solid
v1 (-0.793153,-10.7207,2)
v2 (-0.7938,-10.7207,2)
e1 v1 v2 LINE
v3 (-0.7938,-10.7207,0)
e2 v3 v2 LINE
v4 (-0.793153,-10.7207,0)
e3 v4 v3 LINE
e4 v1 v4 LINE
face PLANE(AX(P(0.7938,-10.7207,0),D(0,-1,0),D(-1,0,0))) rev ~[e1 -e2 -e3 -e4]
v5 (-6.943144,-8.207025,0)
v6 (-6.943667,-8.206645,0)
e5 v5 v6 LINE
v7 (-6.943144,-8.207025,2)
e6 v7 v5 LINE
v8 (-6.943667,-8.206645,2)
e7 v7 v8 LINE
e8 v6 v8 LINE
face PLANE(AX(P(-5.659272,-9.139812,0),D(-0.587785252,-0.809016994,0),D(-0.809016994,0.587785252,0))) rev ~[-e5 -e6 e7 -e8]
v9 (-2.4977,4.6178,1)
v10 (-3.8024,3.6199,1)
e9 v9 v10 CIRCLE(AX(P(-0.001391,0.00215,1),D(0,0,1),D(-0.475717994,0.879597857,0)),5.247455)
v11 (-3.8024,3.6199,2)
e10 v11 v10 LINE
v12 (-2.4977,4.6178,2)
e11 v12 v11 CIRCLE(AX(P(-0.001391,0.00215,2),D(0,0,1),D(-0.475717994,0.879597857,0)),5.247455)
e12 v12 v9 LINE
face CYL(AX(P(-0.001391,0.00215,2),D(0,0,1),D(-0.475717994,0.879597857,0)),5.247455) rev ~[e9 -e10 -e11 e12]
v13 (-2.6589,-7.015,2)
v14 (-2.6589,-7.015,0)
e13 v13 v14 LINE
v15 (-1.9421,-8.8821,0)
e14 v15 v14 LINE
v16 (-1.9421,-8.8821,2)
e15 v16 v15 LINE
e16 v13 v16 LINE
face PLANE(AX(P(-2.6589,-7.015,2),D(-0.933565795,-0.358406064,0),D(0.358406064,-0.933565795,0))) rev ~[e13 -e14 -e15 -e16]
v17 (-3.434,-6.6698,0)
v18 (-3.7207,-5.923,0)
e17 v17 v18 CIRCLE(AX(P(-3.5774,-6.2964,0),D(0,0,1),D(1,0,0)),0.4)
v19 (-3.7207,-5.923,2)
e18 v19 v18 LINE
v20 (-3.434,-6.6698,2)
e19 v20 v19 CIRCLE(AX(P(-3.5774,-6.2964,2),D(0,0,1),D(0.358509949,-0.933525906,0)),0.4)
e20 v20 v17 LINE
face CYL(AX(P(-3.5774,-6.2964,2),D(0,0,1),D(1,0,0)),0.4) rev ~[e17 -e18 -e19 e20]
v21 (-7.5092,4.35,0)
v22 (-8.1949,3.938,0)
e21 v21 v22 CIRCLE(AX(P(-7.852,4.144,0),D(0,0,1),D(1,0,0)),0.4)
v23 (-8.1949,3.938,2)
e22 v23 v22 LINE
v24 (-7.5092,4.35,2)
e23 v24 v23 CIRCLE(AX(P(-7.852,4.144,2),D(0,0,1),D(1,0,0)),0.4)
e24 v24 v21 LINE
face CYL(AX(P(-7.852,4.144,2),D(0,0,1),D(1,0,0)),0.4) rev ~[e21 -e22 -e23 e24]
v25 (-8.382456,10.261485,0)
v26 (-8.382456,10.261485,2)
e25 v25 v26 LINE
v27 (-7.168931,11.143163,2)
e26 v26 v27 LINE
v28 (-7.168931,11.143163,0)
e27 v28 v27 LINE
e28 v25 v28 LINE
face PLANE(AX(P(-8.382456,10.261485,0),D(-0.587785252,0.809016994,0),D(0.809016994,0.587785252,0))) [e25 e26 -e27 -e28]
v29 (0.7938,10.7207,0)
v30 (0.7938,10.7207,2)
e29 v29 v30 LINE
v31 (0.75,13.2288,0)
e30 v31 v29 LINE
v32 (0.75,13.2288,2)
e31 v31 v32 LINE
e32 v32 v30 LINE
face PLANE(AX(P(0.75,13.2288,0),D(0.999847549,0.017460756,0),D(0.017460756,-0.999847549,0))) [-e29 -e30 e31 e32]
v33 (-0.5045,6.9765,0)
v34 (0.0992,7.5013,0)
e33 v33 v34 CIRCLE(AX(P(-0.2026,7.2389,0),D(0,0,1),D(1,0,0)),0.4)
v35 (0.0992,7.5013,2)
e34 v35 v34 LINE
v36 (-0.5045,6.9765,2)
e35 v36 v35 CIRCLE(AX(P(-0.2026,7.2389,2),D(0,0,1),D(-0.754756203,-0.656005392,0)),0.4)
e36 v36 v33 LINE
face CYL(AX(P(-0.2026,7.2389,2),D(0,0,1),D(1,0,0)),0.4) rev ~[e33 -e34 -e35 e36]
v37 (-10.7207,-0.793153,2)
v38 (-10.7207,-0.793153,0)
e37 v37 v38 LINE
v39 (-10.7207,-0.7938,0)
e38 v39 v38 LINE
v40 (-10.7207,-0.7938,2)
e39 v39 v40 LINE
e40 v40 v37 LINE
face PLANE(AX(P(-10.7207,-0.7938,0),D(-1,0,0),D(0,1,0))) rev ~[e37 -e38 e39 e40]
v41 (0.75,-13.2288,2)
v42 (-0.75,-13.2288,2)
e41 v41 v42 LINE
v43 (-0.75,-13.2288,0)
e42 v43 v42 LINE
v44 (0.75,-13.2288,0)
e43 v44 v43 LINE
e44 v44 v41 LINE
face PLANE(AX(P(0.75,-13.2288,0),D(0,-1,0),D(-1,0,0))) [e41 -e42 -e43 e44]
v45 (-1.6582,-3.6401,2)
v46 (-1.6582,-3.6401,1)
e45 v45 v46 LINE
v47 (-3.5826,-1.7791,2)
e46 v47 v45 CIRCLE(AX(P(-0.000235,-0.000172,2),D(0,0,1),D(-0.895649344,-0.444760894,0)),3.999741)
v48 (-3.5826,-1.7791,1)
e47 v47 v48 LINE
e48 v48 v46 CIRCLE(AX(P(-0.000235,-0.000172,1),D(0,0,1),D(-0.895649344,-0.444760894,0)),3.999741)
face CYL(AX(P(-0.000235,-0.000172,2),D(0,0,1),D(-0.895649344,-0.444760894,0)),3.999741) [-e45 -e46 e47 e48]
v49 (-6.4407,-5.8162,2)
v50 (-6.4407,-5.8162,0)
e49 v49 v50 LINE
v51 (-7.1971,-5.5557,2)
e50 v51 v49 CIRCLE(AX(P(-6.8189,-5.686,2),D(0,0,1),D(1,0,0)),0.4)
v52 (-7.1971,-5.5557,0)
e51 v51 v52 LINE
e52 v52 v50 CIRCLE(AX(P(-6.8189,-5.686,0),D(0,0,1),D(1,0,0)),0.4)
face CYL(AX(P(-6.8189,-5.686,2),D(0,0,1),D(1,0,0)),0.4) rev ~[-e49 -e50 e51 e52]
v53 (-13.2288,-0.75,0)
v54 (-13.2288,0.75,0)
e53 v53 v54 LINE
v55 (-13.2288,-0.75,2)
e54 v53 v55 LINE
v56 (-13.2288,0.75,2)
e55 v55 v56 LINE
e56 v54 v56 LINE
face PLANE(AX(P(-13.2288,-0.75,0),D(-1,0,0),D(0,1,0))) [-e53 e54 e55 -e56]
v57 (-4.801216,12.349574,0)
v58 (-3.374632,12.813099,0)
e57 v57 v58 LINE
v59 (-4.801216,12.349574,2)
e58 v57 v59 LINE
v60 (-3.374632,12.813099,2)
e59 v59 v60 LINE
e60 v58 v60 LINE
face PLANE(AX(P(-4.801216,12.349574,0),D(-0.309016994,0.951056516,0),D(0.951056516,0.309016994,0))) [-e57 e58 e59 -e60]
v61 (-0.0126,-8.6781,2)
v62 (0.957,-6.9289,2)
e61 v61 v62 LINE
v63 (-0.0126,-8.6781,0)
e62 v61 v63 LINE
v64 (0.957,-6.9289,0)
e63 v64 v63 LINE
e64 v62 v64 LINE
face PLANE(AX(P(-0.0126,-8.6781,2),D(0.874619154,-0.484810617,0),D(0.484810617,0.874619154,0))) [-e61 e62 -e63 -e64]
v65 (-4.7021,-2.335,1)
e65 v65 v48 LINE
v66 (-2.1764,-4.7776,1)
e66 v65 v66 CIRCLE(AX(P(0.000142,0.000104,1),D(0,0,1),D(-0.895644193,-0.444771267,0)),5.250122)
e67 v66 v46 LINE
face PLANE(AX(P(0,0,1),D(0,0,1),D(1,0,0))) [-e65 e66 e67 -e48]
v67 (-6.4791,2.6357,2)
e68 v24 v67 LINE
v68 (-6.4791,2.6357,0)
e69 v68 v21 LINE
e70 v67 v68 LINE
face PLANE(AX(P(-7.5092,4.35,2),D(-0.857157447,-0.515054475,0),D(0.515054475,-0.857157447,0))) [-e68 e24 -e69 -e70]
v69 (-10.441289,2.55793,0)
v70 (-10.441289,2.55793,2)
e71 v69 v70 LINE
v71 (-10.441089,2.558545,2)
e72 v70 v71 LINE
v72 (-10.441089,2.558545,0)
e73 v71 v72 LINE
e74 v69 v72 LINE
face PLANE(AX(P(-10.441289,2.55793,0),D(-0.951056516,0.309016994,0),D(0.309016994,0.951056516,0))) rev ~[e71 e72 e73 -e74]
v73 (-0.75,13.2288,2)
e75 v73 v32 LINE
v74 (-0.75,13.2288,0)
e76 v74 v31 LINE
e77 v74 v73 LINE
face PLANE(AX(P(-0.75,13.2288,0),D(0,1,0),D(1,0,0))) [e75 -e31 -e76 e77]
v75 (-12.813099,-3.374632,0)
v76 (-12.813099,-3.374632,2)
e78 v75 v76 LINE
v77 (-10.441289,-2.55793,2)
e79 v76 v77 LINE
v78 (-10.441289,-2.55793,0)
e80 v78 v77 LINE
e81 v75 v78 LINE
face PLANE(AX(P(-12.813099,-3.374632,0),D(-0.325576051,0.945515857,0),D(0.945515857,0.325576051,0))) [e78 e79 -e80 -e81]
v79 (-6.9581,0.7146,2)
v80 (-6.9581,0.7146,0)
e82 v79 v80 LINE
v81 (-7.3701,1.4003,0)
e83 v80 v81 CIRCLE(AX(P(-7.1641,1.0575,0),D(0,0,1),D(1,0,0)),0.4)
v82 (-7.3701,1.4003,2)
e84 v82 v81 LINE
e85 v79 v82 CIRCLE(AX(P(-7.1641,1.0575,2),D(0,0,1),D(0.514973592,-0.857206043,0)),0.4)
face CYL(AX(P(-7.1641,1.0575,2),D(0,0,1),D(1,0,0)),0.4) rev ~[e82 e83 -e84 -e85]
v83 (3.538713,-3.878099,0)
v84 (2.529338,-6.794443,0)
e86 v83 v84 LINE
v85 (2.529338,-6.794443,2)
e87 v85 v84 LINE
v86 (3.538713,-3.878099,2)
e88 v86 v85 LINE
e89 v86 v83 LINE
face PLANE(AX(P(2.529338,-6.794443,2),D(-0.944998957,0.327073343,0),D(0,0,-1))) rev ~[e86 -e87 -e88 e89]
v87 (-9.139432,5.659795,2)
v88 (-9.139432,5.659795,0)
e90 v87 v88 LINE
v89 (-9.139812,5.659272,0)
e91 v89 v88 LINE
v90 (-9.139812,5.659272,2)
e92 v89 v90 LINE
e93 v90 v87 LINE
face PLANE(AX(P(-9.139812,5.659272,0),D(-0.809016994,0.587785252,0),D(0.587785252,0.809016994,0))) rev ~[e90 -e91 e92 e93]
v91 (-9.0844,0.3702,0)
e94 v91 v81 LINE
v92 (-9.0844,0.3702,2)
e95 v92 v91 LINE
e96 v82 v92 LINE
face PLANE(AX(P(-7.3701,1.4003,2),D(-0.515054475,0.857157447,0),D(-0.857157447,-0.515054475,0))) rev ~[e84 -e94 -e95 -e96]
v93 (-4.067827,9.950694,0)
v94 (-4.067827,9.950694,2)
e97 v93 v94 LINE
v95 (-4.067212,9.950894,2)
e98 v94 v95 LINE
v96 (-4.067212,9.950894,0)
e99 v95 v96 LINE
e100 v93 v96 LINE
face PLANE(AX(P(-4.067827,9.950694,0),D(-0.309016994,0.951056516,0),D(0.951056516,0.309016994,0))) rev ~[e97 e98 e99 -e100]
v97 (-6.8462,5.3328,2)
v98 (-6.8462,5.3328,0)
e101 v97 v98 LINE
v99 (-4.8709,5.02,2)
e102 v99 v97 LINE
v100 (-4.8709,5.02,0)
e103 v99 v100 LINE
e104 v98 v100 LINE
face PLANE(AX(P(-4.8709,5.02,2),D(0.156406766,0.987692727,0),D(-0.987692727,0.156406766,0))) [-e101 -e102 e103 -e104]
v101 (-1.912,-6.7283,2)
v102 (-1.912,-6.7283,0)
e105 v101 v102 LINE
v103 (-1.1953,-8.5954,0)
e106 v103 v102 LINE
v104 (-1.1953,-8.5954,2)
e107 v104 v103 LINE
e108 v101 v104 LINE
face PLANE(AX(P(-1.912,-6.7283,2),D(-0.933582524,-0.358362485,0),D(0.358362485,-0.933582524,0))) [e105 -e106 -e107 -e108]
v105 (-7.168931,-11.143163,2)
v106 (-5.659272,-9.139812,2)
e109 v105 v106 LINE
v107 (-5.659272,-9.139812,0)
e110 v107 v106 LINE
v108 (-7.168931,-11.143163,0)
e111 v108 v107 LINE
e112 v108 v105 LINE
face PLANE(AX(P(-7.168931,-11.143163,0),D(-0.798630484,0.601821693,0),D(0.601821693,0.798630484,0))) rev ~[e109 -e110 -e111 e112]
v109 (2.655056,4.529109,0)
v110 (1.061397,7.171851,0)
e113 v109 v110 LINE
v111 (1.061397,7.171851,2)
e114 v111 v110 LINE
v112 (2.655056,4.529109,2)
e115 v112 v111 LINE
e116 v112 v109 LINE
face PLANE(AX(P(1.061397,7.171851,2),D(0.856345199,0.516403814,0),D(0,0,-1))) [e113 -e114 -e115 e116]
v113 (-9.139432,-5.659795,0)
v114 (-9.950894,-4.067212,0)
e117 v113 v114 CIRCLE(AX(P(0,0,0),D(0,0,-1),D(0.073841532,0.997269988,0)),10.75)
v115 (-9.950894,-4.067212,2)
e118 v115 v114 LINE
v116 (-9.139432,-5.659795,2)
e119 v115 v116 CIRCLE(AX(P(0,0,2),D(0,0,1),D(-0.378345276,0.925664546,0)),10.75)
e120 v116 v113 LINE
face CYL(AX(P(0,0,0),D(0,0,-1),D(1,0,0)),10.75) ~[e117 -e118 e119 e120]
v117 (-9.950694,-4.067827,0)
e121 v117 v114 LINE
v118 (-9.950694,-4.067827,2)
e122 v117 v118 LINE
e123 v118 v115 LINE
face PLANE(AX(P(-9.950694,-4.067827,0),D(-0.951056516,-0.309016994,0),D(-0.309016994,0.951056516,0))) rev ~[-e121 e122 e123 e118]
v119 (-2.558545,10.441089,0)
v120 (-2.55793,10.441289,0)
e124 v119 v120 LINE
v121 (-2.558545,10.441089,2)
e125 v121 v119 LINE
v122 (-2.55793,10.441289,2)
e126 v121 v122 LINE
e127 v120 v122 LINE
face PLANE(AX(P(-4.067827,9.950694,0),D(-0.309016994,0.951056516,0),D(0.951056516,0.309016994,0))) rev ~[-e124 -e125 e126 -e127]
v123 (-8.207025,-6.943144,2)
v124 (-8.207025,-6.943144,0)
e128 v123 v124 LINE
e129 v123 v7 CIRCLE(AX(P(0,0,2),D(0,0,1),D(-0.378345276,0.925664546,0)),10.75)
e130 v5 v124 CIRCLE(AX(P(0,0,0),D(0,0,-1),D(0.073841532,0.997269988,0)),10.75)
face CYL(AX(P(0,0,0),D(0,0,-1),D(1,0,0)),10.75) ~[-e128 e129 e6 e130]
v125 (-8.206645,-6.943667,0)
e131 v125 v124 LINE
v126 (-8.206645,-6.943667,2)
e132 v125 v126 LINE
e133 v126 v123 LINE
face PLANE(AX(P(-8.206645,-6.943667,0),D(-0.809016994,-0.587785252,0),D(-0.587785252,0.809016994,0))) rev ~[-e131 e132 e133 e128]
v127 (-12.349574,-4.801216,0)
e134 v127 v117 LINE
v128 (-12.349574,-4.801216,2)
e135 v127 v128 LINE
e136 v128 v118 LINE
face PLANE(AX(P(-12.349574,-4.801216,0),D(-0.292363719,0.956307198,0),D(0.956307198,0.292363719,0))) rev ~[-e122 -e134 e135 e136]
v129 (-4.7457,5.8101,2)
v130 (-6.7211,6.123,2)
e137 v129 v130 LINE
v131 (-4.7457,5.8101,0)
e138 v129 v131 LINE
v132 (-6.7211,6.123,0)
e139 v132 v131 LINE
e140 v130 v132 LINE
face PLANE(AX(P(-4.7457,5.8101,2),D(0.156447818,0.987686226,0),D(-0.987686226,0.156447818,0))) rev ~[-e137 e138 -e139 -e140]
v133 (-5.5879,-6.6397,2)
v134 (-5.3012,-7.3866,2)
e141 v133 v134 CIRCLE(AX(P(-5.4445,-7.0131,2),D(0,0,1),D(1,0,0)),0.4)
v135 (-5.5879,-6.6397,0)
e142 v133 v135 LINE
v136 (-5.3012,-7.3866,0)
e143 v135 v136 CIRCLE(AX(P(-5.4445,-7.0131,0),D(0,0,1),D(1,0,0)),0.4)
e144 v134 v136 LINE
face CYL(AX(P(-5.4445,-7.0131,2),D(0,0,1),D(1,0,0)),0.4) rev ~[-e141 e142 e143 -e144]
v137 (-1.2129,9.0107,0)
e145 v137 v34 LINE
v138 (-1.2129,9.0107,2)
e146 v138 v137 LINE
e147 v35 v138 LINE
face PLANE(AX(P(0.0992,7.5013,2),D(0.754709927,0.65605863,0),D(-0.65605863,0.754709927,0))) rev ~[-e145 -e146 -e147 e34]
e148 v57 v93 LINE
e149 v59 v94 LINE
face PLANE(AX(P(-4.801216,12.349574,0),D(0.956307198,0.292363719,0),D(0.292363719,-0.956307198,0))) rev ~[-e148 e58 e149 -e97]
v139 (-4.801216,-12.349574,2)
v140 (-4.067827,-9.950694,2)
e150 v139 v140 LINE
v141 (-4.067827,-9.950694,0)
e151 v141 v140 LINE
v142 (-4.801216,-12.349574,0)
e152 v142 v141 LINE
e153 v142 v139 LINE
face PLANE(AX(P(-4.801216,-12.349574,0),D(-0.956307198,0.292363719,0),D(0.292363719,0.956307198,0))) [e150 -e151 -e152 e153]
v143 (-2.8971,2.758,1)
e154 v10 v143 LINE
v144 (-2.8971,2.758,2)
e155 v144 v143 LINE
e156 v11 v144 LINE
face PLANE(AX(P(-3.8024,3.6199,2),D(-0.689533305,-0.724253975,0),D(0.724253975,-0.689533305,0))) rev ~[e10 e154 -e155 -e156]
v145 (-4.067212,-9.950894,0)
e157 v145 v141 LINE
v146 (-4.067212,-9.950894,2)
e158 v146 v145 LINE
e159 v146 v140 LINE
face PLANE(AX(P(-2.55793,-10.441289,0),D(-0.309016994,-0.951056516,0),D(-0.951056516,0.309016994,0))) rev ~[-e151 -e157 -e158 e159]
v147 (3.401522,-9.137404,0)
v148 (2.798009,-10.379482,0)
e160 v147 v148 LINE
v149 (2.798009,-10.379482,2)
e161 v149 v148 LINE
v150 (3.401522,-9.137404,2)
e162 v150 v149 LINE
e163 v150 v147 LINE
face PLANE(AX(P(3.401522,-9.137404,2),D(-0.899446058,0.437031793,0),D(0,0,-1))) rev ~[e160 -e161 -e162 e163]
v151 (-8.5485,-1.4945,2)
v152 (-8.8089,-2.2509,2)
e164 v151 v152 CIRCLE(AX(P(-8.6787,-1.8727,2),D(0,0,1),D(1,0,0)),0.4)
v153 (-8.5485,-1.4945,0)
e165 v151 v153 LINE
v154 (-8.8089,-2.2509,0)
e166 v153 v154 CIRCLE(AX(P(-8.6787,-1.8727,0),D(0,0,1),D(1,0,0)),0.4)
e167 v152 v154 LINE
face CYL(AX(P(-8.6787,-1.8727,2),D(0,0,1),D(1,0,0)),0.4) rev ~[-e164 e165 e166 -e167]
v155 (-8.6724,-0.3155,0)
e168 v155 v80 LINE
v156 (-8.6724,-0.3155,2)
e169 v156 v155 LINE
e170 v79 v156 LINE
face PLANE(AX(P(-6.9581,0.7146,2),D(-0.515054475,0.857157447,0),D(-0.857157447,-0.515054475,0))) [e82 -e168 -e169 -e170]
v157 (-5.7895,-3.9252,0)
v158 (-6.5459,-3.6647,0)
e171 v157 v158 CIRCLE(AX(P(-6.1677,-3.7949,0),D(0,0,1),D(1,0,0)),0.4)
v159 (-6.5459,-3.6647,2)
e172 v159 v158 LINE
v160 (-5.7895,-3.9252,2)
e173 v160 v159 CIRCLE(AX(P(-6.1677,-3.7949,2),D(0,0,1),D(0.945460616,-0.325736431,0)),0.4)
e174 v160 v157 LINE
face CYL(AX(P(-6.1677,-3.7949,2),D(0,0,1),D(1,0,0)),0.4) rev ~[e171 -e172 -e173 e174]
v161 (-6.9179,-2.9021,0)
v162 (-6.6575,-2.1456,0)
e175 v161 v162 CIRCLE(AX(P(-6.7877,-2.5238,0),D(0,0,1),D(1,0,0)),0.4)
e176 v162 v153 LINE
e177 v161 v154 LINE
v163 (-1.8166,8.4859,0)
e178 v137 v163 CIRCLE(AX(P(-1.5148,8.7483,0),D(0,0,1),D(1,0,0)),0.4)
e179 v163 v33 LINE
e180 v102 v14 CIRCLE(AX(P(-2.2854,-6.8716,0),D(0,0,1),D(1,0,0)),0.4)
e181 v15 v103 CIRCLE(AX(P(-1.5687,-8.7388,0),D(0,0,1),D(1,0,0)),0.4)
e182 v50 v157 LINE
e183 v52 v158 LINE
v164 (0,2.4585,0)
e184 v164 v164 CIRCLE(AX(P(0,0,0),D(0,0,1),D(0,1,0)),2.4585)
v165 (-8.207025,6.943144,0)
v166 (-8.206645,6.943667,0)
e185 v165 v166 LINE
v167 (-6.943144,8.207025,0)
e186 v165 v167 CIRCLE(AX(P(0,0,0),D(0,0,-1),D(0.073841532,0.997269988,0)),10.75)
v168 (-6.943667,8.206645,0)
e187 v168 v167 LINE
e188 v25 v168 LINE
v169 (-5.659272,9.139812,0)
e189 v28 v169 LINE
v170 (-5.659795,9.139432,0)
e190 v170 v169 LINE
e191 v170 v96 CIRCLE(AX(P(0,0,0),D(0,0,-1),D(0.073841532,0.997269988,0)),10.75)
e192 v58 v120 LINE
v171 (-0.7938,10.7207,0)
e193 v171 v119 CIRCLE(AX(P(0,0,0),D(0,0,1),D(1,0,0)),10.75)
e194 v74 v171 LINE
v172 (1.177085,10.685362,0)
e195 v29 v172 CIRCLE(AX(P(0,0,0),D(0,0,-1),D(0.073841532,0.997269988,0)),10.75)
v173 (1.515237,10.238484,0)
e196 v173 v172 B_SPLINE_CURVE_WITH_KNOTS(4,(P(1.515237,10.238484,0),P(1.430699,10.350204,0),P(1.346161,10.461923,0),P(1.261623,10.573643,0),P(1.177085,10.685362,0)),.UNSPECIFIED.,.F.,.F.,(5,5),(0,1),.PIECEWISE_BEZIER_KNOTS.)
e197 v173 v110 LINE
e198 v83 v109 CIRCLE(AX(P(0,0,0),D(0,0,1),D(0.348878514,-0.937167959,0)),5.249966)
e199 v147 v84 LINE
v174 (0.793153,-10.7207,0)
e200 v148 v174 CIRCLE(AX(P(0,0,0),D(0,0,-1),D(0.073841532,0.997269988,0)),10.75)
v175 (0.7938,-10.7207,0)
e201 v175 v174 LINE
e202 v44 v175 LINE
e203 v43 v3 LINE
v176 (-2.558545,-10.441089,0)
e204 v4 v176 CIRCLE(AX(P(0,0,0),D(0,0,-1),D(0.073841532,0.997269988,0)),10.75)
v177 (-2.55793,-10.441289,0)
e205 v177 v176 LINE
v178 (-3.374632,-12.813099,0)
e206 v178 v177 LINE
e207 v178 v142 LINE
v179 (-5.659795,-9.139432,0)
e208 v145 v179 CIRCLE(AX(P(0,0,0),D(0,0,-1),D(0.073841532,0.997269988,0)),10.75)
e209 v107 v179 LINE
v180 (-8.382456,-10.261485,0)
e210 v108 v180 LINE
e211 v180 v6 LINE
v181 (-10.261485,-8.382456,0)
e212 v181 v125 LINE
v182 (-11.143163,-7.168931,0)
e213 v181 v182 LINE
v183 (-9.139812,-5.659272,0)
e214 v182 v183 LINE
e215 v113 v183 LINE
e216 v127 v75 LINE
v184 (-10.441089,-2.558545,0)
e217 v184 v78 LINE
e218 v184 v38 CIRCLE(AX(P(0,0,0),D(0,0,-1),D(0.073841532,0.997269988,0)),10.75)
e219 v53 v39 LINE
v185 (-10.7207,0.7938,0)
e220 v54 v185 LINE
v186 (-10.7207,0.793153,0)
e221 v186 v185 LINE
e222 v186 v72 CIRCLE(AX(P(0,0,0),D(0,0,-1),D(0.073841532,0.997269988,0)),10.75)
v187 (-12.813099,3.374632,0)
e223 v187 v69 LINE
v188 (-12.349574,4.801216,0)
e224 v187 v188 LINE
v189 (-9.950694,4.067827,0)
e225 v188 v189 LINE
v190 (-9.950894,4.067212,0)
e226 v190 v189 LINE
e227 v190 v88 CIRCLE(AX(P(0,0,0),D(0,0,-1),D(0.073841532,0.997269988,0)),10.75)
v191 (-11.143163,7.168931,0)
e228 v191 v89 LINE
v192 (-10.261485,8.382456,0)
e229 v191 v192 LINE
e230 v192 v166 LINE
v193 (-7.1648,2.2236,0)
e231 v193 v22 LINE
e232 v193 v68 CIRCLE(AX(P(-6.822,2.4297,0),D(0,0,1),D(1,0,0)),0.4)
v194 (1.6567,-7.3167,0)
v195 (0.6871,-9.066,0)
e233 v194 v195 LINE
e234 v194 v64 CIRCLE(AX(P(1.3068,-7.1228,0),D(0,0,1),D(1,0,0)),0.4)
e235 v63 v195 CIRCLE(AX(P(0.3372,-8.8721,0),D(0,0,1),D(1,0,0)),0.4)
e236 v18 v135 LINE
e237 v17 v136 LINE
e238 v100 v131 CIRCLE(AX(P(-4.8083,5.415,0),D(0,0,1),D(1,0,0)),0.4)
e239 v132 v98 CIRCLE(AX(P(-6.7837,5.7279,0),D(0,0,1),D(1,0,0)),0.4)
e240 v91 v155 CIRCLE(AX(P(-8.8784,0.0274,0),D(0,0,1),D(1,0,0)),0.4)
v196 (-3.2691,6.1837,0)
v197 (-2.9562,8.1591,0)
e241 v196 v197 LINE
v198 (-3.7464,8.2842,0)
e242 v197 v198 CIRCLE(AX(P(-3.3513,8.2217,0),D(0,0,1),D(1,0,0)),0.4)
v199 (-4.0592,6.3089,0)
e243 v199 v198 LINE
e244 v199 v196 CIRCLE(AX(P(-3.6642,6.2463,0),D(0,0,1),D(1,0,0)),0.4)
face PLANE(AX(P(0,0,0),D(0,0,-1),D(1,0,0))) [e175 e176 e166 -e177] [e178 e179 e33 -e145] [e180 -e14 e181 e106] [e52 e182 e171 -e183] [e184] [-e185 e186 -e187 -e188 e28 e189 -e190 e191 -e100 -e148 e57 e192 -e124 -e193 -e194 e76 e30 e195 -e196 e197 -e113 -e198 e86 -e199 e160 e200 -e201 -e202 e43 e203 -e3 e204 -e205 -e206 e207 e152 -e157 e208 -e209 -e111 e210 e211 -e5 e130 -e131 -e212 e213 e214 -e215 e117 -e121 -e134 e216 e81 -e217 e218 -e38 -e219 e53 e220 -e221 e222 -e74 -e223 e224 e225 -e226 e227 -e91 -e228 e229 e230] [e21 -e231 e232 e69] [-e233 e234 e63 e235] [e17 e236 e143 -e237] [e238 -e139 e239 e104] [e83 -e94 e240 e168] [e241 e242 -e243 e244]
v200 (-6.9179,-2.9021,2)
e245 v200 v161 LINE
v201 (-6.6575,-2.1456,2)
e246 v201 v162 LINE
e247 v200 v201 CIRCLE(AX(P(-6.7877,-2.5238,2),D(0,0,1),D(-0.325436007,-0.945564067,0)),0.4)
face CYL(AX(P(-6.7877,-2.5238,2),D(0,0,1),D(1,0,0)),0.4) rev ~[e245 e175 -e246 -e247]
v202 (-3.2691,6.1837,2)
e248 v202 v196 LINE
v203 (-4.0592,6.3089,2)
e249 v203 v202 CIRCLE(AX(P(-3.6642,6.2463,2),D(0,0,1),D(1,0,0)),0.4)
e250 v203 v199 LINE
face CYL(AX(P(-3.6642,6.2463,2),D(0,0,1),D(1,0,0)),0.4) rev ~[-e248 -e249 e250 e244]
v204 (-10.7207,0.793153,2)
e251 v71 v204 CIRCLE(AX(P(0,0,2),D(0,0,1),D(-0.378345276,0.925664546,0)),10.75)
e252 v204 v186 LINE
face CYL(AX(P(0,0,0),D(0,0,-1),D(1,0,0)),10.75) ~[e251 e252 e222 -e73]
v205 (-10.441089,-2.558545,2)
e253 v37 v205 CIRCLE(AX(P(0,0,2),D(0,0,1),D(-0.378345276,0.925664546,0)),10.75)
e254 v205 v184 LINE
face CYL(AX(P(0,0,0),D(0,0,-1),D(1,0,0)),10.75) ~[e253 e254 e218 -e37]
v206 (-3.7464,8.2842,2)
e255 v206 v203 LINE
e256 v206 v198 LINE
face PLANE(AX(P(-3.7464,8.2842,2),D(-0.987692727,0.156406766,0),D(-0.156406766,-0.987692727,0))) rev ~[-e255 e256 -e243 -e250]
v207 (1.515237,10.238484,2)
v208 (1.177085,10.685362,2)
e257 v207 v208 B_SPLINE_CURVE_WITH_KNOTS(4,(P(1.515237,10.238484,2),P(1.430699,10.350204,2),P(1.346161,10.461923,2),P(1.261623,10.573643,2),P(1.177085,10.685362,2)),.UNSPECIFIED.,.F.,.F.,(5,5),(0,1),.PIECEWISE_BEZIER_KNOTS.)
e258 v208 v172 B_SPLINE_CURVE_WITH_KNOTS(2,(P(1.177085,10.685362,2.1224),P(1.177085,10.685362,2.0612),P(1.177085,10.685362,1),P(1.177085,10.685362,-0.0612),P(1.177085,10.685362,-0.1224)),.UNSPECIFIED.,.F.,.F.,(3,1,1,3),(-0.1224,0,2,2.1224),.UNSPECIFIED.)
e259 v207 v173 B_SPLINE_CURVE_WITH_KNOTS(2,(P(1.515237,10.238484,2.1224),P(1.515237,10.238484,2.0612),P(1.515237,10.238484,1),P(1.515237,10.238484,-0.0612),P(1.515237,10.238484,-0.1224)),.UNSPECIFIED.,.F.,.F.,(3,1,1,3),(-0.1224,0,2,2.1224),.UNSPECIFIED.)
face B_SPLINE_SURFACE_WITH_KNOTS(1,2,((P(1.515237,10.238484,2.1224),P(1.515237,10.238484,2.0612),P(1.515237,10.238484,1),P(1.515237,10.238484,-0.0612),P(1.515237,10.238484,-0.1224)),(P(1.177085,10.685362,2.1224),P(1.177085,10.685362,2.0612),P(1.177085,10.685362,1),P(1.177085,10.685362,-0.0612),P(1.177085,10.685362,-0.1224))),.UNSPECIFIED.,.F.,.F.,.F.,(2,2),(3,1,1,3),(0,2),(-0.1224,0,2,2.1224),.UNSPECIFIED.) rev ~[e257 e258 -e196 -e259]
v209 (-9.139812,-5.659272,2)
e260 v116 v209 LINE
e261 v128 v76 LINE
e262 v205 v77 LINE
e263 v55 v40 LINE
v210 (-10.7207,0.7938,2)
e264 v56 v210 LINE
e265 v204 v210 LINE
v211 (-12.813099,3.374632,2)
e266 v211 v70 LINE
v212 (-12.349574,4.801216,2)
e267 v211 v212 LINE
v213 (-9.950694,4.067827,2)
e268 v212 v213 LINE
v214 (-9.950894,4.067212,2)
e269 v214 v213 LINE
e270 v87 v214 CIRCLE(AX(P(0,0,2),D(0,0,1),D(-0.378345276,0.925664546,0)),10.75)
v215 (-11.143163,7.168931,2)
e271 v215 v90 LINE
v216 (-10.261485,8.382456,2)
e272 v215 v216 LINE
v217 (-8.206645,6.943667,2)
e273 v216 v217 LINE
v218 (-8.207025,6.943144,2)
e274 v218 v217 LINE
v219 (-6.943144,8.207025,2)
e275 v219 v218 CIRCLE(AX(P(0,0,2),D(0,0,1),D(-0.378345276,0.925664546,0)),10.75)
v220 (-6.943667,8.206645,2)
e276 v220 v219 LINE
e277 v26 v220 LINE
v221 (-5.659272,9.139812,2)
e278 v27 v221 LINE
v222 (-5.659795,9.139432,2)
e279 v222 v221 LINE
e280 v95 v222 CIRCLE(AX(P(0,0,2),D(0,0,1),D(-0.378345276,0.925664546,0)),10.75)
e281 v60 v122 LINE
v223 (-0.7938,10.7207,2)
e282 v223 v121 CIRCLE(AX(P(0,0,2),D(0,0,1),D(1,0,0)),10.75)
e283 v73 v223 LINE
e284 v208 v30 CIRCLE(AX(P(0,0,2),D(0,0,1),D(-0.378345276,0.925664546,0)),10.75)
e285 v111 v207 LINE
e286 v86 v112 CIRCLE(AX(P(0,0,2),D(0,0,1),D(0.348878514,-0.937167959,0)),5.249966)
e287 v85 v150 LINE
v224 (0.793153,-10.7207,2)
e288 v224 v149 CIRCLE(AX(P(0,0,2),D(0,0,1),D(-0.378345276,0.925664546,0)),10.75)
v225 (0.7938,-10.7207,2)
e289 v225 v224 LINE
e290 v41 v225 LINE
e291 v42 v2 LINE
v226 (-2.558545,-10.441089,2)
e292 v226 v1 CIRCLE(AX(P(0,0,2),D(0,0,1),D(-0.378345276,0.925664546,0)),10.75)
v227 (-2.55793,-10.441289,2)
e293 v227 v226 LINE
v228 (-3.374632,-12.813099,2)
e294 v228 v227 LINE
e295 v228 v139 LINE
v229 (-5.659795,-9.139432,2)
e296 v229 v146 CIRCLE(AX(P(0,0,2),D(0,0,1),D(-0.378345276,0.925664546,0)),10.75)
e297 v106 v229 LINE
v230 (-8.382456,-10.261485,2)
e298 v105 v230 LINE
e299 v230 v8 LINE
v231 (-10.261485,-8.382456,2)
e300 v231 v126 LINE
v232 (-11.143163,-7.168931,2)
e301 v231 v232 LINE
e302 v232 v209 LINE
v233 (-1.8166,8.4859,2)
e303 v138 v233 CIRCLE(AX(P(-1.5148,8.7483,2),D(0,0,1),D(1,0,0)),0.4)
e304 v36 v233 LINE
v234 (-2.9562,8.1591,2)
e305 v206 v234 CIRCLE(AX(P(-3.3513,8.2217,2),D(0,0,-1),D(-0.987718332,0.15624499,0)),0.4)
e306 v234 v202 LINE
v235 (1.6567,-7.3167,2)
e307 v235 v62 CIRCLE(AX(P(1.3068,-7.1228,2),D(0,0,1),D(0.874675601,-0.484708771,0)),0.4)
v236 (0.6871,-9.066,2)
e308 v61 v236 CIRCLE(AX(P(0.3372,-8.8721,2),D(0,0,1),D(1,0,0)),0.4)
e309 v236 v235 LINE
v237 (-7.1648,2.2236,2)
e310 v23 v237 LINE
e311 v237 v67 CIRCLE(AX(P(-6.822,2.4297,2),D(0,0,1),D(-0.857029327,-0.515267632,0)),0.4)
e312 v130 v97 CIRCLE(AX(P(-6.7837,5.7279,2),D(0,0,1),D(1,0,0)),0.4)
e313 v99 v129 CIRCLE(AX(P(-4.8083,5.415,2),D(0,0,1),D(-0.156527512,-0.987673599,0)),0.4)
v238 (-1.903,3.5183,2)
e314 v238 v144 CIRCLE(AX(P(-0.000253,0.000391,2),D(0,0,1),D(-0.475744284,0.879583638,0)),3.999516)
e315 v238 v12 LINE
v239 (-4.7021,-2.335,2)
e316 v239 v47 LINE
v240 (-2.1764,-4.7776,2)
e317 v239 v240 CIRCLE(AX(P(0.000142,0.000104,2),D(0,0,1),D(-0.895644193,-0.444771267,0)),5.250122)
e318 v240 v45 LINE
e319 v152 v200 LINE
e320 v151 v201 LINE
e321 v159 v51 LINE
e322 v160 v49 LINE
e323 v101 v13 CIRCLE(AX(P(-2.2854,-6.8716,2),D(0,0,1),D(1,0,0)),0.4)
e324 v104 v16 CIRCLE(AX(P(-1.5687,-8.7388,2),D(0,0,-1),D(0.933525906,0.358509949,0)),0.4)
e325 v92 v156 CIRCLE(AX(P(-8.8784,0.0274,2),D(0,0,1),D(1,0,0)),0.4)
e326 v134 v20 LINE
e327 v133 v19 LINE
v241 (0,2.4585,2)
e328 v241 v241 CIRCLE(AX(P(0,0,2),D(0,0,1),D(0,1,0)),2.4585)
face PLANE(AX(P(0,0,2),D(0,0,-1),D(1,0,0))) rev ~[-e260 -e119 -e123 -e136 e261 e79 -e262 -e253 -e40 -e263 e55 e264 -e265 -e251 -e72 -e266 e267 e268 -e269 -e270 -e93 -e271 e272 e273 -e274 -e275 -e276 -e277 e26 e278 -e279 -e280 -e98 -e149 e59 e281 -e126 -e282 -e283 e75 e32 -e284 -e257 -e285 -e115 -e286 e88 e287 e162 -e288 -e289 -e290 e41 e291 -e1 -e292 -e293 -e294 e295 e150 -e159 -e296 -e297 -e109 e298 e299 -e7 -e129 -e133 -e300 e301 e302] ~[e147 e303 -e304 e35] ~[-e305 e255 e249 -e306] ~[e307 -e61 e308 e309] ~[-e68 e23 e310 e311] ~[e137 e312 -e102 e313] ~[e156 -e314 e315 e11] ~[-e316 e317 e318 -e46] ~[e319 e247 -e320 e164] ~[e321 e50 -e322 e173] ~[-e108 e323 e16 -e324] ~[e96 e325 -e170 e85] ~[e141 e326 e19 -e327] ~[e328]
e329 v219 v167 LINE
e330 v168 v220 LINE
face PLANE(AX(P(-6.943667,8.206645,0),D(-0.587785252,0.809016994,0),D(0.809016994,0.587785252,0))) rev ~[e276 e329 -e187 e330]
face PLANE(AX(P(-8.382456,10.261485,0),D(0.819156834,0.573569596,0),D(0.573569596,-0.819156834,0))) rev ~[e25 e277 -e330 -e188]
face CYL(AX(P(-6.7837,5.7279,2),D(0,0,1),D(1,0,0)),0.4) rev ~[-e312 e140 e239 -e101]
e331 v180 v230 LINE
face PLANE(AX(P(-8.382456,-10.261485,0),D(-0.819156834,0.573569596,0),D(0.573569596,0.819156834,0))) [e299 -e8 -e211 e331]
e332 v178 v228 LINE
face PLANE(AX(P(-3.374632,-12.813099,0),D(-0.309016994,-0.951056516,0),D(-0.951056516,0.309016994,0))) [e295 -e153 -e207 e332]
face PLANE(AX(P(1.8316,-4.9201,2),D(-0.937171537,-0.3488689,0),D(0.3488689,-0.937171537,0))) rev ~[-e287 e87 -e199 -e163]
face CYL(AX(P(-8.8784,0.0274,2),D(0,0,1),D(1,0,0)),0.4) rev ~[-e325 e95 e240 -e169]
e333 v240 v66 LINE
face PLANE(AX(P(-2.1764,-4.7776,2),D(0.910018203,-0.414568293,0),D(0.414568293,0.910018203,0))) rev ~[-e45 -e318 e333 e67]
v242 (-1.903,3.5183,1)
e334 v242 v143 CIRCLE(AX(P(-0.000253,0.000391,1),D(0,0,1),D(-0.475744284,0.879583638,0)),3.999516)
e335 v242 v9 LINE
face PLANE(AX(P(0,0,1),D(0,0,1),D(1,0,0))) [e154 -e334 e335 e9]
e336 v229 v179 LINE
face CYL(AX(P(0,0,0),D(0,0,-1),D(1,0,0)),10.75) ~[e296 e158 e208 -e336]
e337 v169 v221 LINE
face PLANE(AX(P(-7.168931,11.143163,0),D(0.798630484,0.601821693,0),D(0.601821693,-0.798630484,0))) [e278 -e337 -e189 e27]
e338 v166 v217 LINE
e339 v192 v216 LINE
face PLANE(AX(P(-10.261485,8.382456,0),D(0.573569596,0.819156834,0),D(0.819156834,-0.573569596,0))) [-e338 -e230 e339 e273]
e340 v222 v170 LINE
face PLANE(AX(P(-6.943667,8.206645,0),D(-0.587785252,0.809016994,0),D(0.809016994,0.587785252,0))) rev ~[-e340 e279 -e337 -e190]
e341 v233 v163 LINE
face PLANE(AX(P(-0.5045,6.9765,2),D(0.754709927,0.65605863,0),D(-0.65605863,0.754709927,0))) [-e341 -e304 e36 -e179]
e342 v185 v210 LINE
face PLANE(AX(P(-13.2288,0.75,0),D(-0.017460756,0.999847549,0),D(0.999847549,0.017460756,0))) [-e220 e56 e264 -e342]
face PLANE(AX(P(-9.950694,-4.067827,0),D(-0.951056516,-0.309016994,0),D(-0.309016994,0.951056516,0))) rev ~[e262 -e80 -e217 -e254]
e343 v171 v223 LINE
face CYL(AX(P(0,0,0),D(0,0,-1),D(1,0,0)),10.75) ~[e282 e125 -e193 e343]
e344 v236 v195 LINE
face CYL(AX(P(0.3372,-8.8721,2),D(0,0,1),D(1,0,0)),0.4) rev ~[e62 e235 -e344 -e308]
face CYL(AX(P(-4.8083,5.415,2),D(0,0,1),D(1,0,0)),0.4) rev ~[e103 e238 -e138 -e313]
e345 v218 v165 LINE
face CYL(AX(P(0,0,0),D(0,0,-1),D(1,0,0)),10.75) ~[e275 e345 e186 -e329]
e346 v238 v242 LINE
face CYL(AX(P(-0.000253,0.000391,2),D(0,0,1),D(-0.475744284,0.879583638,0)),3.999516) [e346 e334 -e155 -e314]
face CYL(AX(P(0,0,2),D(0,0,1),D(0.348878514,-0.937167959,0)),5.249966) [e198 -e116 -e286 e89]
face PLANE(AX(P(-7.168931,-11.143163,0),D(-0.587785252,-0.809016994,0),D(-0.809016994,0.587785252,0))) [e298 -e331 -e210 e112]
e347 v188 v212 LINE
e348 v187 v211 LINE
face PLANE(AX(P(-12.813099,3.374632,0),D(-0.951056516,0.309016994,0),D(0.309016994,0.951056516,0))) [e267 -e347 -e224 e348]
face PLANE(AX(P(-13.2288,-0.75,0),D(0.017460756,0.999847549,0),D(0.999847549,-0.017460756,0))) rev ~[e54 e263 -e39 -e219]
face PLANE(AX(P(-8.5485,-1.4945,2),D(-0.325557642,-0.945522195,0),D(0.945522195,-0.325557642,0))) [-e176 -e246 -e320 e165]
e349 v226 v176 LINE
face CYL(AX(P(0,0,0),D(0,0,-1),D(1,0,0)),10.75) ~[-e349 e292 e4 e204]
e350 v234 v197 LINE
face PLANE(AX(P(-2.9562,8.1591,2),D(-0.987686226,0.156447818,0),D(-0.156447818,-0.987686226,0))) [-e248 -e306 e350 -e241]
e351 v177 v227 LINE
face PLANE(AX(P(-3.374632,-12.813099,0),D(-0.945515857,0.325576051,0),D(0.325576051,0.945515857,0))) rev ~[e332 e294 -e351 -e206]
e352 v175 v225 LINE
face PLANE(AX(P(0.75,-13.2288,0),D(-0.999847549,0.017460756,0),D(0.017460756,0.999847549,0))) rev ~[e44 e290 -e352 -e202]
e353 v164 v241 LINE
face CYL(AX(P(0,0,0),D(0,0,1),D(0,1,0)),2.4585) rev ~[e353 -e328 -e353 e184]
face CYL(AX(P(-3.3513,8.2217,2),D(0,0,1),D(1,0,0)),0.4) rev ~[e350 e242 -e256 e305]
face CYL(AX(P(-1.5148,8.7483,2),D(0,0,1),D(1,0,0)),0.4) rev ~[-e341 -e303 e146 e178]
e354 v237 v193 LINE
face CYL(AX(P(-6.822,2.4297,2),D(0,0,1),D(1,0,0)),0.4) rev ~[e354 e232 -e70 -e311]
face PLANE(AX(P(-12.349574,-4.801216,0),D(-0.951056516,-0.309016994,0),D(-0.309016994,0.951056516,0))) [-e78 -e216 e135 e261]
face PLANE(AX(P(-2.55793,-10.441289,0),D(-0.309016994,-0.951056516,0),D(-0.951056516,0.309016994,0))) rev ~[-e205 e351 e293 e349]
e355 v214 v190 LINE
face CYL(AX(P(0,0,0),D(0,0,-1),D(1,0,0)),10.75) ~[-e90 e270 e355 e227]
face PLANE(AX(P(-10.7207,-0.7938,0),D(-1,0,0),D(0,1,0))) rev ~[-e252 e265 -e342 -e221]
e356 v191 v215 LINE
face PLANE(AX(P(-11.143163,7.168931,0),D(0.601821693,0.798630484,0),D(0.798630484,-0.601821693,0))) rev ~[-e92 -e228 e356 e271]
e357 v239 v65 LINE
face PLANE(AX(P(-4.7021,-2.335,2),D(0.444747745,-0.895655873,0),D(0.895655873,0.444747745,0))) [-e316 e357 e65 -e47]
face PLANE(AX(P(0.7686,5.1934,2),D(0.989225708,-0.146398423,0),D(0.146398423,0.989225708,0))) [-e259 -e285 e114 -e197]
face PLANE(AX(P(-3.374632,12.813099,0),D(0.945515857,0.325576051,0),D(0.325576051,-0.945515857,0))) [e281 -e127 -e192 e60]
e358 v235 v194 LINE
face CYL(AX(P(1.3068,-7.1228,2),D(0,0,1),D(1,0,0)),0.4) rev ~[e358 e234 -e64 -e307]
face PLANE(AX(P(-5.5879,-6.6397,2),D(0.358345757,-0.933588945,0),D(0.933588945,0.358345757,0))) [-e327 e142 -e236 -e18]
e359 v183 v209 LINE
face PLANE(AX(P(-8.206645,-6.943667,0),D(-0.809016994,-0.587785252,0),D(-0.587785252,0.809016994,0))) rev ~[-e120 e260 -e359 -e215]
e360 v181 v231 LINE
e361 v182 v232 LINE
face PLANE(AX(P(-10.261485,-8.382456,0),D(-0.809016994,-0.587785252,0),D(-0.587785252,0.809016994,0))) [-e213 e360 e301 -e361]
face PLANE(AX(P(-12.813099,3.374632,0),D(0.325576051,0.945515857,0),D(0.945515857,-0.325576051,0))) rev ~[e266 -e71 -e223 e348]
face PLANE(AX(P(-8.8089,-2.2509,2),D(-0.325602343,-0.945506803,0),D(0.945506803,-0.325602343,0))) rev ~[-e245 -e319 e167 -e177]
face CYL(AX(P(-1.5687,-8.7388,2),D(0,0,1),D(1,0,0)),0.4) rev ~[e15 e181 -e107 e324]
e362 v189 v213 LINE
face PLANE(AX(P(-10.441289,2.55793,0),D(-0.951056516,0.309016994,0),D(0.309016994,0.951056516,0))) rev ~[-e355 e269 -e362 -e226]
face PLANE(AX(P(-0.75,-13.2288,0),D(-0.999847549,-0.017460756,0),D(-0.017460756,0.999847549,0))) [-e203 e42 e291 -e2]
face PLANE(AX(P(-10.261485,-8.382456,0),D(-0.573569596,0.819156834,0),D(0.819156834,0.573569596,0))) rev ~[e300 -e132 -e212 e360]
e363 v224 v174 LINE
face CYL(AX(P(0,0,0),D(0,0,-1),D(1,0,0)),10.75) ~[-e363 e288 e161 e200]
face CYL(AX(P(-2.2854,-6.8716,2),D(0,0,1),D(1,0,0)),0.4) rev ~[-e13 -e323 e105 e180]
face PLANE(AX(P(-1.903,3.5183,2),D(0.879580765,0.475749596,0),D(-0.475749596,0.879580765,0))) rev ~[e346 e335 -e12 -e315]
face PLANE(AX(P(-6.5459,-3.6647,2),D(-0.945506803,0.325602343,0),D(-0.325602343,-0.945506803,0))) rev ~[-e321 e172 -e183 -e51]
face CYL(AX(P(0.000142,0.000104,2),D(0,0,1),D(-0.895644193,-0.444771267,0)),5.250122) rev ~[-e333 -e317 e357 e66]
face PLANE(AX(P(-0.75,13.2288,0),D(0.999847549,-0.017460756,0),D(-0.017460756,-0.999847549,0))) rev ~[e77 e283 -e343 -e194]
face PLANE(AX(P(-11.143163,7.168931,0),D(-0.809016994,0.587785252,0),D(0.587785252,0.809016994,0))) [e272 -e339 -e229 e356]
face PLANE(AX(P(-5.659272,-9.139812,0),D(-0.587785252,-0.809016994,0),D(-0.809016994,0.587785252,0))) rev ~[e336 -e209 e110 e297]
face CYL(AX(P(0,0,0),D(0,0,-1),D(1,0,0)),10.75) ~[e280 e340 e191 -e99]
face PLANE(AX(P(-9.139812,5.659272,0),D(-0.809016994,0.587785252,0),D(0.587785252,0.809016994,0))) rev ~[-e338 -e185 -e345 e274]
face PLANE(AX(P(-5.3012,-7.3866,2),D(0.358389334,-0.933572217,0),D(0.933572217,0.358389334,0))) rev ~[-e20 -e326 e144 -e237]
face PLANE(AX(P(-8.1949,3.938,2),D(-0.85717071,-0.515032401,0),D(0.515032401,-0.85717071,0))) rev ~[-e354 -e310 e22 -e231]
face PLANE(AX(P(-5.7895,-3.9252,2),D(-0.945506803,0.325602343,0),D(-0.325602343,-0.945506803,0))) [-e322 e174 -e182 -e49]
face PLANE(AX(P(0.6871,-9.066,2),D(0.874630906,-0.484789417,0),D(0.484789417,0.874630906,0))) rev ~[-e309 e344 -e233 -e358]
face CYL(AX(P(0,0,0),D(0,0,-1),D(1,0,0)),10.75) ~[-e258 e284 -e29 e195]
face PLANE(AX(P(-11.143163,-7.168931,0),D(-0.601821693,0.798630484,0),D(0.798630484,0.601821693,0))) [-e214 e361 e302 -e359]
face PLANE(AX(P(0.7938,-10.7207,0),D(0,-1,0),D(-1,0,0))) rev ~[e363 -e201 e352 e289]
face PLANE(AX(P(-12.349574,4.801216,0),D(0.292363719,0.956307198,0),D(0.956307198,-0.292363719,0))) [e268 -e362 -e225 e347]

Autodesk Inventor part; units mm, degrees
ref_plane "YZ Plane" through (0, 0, 0) normal (1, 0, 0) x (0, 1, 0)
ref_plane "XZ Plane" through (0, 0, 0) normal (0, 1, 0) x (-1, 0, 0)
ref_plane "XY Plane" through (0, 0, 0) normal (0, 0, 1) x (1, 0, 0)
sketch "Body" plane through (0, 0, 0) normal (0, 0, 1) x (1, 0, 0)
  circle A0 centre (0, 0) radius 13.25 construction
  circle A1 centre (0, 0) radius 10.75
  line L0 (0, 0) -> (0, 13.25) construction
  line L1 (-0.75, 13.2288) -> (0.75, 13.2288)
  line L2 (-0.75, 13.2288) -> (-0.7938, 10.7207)
  line L3 (0.75, 13.2288) -> (0.7938, 10.7207)
  line L4 (-0.7938, 10.7207) -> (0.7938, 10.7207)
  point P0 (0, 13.2288)
  dimension "d0" = 26.5
  dimension "d1" = 2.5
  dimension "d2" = 1.5
  dimension "d3" = 91
  dimension "d4" = 91
extrude "BodyFeature" add sketch "Body" along normal blind 2 contours A1 L4 picked at (2.6338, -2.2653)
sketch "Tooth" plane through (0, 0, 0) normal (0, 0, -1) x (-1, 0, 0)
  line L0 (0.75, 13.2288) -> (0.7938, 10.7207) projected
  line L1 (0.75, 13.2288) -> (-0.75, 13.2288) projected
  line L2 (-0.75, 13.2288) -> (-0.7938, 10.7207) projected
  line L3 (0.7938, 10.7207) -> (-0.7938, 10.7207) projected
extrude "ToothFeature" add sketch "Tooth" against normal blind 2
pattern_circular "ToothArray" count 11 over 180 about axis through (0, 0, 0) along (0, 0, 1) of "ToothFeature"
sketch "Sketch3" plane through (0, 0, 0) normal (0, 0, -1) x (-1, 0, 0)
  point P0 (0, 0)
hole "BodyHole" at (0, 0, 0) direction (0, 0, 1) diameter 4.917 end through all thread size "M6x1" class "6H" standard "ISO Metric profile"
sketch "BodyCutDetail" plane through (0, 0, 2) normal (0, 0, 1) x (1, 0, 0)
  circle A0 centre (0, 0) radius 2.4585 construction
  line L0 (-6.7837, 5.7279) -> (-3.8206, 5.2586) construction
  line L1 (-3.8206, 5.2586) -> (-3.3513, 8.2217) construction
  line L2 (-3.8206, 5.2586) -> (0, 0) construction
  circle A1 centre (-3.3513, 8.2217) radius 0.4
  circle A2 centre (-6.7837, 5.7279) radius 0.4
  circle A3 centre (-3.6642, 6.2463) radius 0.4
  circle A4 centre (-4.8083, 5.415) radius 0.4
  line L3 (-3.3513, 8.2217) -> (-3.6642, 6.2463) construction
  line L4 (-4.8083, 5.415) -> (-6.7837, 5.7279) construction
  line L5 (-2.9562, 8.1591) -> (-3.2691, 6.1837)
  line L6 (-3.7464, 8.2842) -> (-4.0592, 6.3089)
  line L7 (-4.7457, 5.8101) -> (-6.7211, 6.123)
  line L8 (-4.8709, 5.02) -> (-6.8462, 5.3328)
  line L9 (-3.8206, 5.2586) -> (-7.7757, 10.7023) construction
  line L10 (-7.1689, 11.1431) -> (-8.3824, 10.2614) construction
  circle A5 centre (-7.852, 4.144) radius 0.4
  circle A6 centre (-8.8784, 0.0274) radius 0.4
  circle A7 centre (-6.822, 2.4297) radius 0.4
  circle A8 centre (-7.1641, 1.0575) radius 0.4
  line L11 (-7.5092, 4.35) -> (-6.4791, 2.6357)
  line L12 (-8.1949, 3.938) -> (-7.1648, 2.2236)
  line L13 (-7.3701, 1.4003) -> (-9.0844, 0.3702)
  line L14 (-6.9581, 0.7146) -> (-8.6724, -0.3155)
  circle A9 centre (-8.6787, -1.8727) radius 0.4
  circle A10 centre (-6.8189, -5.686) radius 0.4
  circle A11 centre (-6.7877, -2.5238) radius 0.4
  circle A12 centre (-6.1677, -3.7949) radius 0.4
  line L15 (-8.5485, -1.4945) -> (-6.6575, -2.1456)
  line L16 (-8.8089, -2.2509) -> (-6.9179, -2.9021)
  line L17 (-6.5459, -3.6647) -> (-7.1971, -5.5557)
  line L18 (-5.7895, -3.9252) -> (-6.4407, -5.8162)
  circle A13 centre (-5.4445, -7.0131) radius 0.4
  circle A14 centre (-1.5687, -8.7388) radius 0.4
  circle A15 centre (-3.5774, -6.2964) radius 0.4
  circle A16 centre (-2.2854, -6.8716) radius 0.4
  line L19 (-5.5879, -6.6397) -> (-3.7207, -5.923)
  line L20 (-5.3012, -7.3866) -> (-3.434, -6.6698)
  line L21 (-2.6589, -7.015) -> (-1.9421, -8.8821)
  line L22 (-1.912, -6.7283) -> (-1.1953, -8.5954)
  circle A17 centre (0.3372, -8.8721) radius 0.4
  circle A18 centre (4.4155, -7.7026) radius 0.4
  circle A19 centre (1.3068, -7.1228) radius 0.4
  circle A20 centre (2.6663, -6.733) radius 0.4
  line L23 (-0.0126, -8.6781) -> (0.957, -6.9289)
  line L24 (0.6871, -9.066) -> (1.6567, -7.3167)
  line L25 (2.4723, -7.0829) -> (4.2216, -8.0525)
  line L26 (2.8602, -6.3832) -> (4.6094, -7.3528)
  circle A21 centre (5.9612, -6.5796) radius 0.4
  circle A22 centre (8.3336, -3.0623) radius 0.4
  circle A23 centre (5.5796, -4.6164) radius 0.4
  circle A24 centre (6.3704, -3.4439) radius 0.4
  line L27 (5.5685, -6.656) -> (5.1869, -4.6927)
  line L28 (6.3538, -6.5033) -> (5.9722, -4.5401)
  line L29 (6.4467, -3.8366) -> (8.4099, -3.455)
  line L30 (6.294, -3.0513) -> (8.2573, -2.6697)
  circle A25 centre (8.7958, -1.2085) radius 0.4
  circle A26 centre (8.3524, 3.0109) radius 0.4
  circle A27 centre (7.2415, 0.0501) radius 0.4
  circle A28 centre (7.0937, 1.4566) radius 0.4
  line L31 (8.5441, -1.5194) -> (6.9898, -0.2607)
  line L32 (9.0476, -0.8977) -> (7.4933, 0.361)
  line L33 (7.4046, 1.2049) -> (8.6632, 2.7591)
  line L34 (6.7829, 1.7083) -> (8.0415, 3.2626)
  circle A29 centre (7.5148, 4.7281) radius 0.4
  circle A30 centre (4.4629, 7.6753) radius 0.4
  circle A31 centre (5.5151, 4.6932) radius 0.4
  circle A32 centre (4.4978, 5.6756) radius 0.4
  line L35 (7.5218, 4.3281) -> (5.5221, 4.2932)
  line L36 (7.5078, 5.128) -> (5.5081, 5.0931)
  line L37 (4.8978, 5.6825) -> (4.8629, 7.6822)
  line L38 (4.0979, 5.6686) -> (4.063, 7.6683)
  circle A33 centre (2.7175, 8.4523) radius 0.4
  circle A34 centre (-1.5148, 8.7483) radius 0.4
  circle A35 centre (1.2081, 7.1402) radius 0.4
  circle A36 centre (-0.2026, 7.2389) radius 0.4
  line L39 (2.98, 8.1505) -> (1.4706, 6.8383)
  line L40 (2.4551, 8.7542) -> (0.9457, 7.4421)
  line L41 (0.0992, 7.5013) -> (-1.2129, 9.0107)
  line L42 (-0.5045, 6.9765) -> (-1.8166, 8.4859)
  dimension "d97" = 135
  dimension "d99" = 3
  dimension "d100" = 6.5
  dimension "d101" = 0.8
  dimension "d103" = 135
  dimension "d104" = 1
  dimension "d108" = 360
extrude "BodyCutDetailFeature" cut sketch "BodyCutDetail" against normal through all contours A1 | A1 L5 A3 L6 | A3 | A2 | A2 L7 A4 L8 | A4 | A5 | A5 L11 A7 L12 | A7 | A6 | A6 L13 A8 L14 | A8 | A9 | A9 L15 A11 L16 | A11 | A10 | A10 L17 A12 L18 | A12 | A13 | A13 L19 A15 L20 | A15 | A14 | A14 L21 A16 L22 | A16 | A17 | A17 L23 A19 L24 | A19 | A34 | A34 L41 A36 L42 | A36
sketch "BodyLimitCut" plane through (0, 0, 2) normal (0, 0, 1) x (1, 0, 0)
  circle A0 centre (0, 0) radius 2.4585 construction
  line L0 (0, 0) -> (3.7504, -10.0746) construction
  line L1 (0, 0) -> (1.5738, 10.6342) construction
  arc A1 (0.7938, -10.7207) -> (0.7938, 10.7207) centre (0, 0) ccw construction
  circle A2 centre (0, 0) radius 5.25 construction
  arc A3 (3.7504, -10.0746) -> (1.5738, 10.6342) centre (0, 0) ccw
  arc A4 (1.8316, -4.9201) -> (0.7686, 5.1934) centre (0, 0) ccw
  line L2 (1.8316, -4.9201) -> (3.7504, -10.0746)
  line L3 (0.7686, 5.1934) -> (1.5738, 10.6342)
  point P0 (1.6567, -7.3167)
  point P1 (0.0992, 7.5013)
  dimension "d117" = 1
  dimension "d118" = 1
  dimension "d119" = 10.5
extrude "BodyLimitCutFeature" cut sketch "BodyLimitCut" against normal through all
chamfer "BodyChamfer1Feature" distance 2 angle 45 1 edges at (0.7686, 5.1934, 1)
chamfer "BodyChamfer2Feature" distance 2 angle 45 1 edges at (1.8316, -4.9201, 1)
chamfer "BodyChamfer3Feature" distance 1 angle 45 1 edges at (3.7504, -10.0746, 1)
chamfer "BodyChamfer4Feature" distance 0.4 angle 45 1 edges at (1.5738, 10.6342, 1)
sketch "BodyDetail" plane through (0, 0, 2) normal (0, 0, 1) x (1, 0, 0)
  circle A0 centre (0, 0) radius 4 construction
  circle A1 centre (0, 0) radius 5.25 construction
  circle A2 centre (0, 0) radius 2.4585 construction
  line L0 (-2.1764, -4.7776) -> (0, 0) construction
  line L1 (0, 0) -> (-4.7021, -2.335) construction
  line L2 (3.5387, -3.8782) -> (2.5293, -6.7945) construction
  arc A3 (-4.7021, -2.335) -> (-2.1764, -4.7776) centre (0, 0) ccw
  arc A4 (-3.5826, -1.7791) -> (-1.6582, -3.6401) centre (0, 0) ccw
  line L3 (-4.7021, -2.335) -> (-3.5826, -1.7791)
  line L4 (-2.1764, -4.7776) -> (-1.6582, -3.6401)
  line L5 (0, 0) -> (-3.8024, 3.6199) construction
  line L6 (0, 0) -> (-2.4977, 4.6178) construction
  arc A5 (-2.4977, 4.6178) -> (-3.8024, 3.6199) centre (0, 0) ccw
  arc A6 (-1.903, 3.5183) -> (-2.8971, 2.758) centre (0, 0) ccw
  line L7 (-3.8024, 3.6199) -> (-2.8971, 2.758)
  line L8 (-1.903, 3.5183) -> (-2.4977, 4.6178)
  dimension "d140" = 8
  dimension "d142" = 5.4
  dimension "d143" = 39.1
  dimension "d144" = 18
  dimension "d145" = 70
extrude "BodyDetailFeature" cut sketch "BodyDetail" against normal blind 1
equation "\"d4\" = d3"
equation "\"d103\" = d97"
properties part number "ShoulderCogSmall"
